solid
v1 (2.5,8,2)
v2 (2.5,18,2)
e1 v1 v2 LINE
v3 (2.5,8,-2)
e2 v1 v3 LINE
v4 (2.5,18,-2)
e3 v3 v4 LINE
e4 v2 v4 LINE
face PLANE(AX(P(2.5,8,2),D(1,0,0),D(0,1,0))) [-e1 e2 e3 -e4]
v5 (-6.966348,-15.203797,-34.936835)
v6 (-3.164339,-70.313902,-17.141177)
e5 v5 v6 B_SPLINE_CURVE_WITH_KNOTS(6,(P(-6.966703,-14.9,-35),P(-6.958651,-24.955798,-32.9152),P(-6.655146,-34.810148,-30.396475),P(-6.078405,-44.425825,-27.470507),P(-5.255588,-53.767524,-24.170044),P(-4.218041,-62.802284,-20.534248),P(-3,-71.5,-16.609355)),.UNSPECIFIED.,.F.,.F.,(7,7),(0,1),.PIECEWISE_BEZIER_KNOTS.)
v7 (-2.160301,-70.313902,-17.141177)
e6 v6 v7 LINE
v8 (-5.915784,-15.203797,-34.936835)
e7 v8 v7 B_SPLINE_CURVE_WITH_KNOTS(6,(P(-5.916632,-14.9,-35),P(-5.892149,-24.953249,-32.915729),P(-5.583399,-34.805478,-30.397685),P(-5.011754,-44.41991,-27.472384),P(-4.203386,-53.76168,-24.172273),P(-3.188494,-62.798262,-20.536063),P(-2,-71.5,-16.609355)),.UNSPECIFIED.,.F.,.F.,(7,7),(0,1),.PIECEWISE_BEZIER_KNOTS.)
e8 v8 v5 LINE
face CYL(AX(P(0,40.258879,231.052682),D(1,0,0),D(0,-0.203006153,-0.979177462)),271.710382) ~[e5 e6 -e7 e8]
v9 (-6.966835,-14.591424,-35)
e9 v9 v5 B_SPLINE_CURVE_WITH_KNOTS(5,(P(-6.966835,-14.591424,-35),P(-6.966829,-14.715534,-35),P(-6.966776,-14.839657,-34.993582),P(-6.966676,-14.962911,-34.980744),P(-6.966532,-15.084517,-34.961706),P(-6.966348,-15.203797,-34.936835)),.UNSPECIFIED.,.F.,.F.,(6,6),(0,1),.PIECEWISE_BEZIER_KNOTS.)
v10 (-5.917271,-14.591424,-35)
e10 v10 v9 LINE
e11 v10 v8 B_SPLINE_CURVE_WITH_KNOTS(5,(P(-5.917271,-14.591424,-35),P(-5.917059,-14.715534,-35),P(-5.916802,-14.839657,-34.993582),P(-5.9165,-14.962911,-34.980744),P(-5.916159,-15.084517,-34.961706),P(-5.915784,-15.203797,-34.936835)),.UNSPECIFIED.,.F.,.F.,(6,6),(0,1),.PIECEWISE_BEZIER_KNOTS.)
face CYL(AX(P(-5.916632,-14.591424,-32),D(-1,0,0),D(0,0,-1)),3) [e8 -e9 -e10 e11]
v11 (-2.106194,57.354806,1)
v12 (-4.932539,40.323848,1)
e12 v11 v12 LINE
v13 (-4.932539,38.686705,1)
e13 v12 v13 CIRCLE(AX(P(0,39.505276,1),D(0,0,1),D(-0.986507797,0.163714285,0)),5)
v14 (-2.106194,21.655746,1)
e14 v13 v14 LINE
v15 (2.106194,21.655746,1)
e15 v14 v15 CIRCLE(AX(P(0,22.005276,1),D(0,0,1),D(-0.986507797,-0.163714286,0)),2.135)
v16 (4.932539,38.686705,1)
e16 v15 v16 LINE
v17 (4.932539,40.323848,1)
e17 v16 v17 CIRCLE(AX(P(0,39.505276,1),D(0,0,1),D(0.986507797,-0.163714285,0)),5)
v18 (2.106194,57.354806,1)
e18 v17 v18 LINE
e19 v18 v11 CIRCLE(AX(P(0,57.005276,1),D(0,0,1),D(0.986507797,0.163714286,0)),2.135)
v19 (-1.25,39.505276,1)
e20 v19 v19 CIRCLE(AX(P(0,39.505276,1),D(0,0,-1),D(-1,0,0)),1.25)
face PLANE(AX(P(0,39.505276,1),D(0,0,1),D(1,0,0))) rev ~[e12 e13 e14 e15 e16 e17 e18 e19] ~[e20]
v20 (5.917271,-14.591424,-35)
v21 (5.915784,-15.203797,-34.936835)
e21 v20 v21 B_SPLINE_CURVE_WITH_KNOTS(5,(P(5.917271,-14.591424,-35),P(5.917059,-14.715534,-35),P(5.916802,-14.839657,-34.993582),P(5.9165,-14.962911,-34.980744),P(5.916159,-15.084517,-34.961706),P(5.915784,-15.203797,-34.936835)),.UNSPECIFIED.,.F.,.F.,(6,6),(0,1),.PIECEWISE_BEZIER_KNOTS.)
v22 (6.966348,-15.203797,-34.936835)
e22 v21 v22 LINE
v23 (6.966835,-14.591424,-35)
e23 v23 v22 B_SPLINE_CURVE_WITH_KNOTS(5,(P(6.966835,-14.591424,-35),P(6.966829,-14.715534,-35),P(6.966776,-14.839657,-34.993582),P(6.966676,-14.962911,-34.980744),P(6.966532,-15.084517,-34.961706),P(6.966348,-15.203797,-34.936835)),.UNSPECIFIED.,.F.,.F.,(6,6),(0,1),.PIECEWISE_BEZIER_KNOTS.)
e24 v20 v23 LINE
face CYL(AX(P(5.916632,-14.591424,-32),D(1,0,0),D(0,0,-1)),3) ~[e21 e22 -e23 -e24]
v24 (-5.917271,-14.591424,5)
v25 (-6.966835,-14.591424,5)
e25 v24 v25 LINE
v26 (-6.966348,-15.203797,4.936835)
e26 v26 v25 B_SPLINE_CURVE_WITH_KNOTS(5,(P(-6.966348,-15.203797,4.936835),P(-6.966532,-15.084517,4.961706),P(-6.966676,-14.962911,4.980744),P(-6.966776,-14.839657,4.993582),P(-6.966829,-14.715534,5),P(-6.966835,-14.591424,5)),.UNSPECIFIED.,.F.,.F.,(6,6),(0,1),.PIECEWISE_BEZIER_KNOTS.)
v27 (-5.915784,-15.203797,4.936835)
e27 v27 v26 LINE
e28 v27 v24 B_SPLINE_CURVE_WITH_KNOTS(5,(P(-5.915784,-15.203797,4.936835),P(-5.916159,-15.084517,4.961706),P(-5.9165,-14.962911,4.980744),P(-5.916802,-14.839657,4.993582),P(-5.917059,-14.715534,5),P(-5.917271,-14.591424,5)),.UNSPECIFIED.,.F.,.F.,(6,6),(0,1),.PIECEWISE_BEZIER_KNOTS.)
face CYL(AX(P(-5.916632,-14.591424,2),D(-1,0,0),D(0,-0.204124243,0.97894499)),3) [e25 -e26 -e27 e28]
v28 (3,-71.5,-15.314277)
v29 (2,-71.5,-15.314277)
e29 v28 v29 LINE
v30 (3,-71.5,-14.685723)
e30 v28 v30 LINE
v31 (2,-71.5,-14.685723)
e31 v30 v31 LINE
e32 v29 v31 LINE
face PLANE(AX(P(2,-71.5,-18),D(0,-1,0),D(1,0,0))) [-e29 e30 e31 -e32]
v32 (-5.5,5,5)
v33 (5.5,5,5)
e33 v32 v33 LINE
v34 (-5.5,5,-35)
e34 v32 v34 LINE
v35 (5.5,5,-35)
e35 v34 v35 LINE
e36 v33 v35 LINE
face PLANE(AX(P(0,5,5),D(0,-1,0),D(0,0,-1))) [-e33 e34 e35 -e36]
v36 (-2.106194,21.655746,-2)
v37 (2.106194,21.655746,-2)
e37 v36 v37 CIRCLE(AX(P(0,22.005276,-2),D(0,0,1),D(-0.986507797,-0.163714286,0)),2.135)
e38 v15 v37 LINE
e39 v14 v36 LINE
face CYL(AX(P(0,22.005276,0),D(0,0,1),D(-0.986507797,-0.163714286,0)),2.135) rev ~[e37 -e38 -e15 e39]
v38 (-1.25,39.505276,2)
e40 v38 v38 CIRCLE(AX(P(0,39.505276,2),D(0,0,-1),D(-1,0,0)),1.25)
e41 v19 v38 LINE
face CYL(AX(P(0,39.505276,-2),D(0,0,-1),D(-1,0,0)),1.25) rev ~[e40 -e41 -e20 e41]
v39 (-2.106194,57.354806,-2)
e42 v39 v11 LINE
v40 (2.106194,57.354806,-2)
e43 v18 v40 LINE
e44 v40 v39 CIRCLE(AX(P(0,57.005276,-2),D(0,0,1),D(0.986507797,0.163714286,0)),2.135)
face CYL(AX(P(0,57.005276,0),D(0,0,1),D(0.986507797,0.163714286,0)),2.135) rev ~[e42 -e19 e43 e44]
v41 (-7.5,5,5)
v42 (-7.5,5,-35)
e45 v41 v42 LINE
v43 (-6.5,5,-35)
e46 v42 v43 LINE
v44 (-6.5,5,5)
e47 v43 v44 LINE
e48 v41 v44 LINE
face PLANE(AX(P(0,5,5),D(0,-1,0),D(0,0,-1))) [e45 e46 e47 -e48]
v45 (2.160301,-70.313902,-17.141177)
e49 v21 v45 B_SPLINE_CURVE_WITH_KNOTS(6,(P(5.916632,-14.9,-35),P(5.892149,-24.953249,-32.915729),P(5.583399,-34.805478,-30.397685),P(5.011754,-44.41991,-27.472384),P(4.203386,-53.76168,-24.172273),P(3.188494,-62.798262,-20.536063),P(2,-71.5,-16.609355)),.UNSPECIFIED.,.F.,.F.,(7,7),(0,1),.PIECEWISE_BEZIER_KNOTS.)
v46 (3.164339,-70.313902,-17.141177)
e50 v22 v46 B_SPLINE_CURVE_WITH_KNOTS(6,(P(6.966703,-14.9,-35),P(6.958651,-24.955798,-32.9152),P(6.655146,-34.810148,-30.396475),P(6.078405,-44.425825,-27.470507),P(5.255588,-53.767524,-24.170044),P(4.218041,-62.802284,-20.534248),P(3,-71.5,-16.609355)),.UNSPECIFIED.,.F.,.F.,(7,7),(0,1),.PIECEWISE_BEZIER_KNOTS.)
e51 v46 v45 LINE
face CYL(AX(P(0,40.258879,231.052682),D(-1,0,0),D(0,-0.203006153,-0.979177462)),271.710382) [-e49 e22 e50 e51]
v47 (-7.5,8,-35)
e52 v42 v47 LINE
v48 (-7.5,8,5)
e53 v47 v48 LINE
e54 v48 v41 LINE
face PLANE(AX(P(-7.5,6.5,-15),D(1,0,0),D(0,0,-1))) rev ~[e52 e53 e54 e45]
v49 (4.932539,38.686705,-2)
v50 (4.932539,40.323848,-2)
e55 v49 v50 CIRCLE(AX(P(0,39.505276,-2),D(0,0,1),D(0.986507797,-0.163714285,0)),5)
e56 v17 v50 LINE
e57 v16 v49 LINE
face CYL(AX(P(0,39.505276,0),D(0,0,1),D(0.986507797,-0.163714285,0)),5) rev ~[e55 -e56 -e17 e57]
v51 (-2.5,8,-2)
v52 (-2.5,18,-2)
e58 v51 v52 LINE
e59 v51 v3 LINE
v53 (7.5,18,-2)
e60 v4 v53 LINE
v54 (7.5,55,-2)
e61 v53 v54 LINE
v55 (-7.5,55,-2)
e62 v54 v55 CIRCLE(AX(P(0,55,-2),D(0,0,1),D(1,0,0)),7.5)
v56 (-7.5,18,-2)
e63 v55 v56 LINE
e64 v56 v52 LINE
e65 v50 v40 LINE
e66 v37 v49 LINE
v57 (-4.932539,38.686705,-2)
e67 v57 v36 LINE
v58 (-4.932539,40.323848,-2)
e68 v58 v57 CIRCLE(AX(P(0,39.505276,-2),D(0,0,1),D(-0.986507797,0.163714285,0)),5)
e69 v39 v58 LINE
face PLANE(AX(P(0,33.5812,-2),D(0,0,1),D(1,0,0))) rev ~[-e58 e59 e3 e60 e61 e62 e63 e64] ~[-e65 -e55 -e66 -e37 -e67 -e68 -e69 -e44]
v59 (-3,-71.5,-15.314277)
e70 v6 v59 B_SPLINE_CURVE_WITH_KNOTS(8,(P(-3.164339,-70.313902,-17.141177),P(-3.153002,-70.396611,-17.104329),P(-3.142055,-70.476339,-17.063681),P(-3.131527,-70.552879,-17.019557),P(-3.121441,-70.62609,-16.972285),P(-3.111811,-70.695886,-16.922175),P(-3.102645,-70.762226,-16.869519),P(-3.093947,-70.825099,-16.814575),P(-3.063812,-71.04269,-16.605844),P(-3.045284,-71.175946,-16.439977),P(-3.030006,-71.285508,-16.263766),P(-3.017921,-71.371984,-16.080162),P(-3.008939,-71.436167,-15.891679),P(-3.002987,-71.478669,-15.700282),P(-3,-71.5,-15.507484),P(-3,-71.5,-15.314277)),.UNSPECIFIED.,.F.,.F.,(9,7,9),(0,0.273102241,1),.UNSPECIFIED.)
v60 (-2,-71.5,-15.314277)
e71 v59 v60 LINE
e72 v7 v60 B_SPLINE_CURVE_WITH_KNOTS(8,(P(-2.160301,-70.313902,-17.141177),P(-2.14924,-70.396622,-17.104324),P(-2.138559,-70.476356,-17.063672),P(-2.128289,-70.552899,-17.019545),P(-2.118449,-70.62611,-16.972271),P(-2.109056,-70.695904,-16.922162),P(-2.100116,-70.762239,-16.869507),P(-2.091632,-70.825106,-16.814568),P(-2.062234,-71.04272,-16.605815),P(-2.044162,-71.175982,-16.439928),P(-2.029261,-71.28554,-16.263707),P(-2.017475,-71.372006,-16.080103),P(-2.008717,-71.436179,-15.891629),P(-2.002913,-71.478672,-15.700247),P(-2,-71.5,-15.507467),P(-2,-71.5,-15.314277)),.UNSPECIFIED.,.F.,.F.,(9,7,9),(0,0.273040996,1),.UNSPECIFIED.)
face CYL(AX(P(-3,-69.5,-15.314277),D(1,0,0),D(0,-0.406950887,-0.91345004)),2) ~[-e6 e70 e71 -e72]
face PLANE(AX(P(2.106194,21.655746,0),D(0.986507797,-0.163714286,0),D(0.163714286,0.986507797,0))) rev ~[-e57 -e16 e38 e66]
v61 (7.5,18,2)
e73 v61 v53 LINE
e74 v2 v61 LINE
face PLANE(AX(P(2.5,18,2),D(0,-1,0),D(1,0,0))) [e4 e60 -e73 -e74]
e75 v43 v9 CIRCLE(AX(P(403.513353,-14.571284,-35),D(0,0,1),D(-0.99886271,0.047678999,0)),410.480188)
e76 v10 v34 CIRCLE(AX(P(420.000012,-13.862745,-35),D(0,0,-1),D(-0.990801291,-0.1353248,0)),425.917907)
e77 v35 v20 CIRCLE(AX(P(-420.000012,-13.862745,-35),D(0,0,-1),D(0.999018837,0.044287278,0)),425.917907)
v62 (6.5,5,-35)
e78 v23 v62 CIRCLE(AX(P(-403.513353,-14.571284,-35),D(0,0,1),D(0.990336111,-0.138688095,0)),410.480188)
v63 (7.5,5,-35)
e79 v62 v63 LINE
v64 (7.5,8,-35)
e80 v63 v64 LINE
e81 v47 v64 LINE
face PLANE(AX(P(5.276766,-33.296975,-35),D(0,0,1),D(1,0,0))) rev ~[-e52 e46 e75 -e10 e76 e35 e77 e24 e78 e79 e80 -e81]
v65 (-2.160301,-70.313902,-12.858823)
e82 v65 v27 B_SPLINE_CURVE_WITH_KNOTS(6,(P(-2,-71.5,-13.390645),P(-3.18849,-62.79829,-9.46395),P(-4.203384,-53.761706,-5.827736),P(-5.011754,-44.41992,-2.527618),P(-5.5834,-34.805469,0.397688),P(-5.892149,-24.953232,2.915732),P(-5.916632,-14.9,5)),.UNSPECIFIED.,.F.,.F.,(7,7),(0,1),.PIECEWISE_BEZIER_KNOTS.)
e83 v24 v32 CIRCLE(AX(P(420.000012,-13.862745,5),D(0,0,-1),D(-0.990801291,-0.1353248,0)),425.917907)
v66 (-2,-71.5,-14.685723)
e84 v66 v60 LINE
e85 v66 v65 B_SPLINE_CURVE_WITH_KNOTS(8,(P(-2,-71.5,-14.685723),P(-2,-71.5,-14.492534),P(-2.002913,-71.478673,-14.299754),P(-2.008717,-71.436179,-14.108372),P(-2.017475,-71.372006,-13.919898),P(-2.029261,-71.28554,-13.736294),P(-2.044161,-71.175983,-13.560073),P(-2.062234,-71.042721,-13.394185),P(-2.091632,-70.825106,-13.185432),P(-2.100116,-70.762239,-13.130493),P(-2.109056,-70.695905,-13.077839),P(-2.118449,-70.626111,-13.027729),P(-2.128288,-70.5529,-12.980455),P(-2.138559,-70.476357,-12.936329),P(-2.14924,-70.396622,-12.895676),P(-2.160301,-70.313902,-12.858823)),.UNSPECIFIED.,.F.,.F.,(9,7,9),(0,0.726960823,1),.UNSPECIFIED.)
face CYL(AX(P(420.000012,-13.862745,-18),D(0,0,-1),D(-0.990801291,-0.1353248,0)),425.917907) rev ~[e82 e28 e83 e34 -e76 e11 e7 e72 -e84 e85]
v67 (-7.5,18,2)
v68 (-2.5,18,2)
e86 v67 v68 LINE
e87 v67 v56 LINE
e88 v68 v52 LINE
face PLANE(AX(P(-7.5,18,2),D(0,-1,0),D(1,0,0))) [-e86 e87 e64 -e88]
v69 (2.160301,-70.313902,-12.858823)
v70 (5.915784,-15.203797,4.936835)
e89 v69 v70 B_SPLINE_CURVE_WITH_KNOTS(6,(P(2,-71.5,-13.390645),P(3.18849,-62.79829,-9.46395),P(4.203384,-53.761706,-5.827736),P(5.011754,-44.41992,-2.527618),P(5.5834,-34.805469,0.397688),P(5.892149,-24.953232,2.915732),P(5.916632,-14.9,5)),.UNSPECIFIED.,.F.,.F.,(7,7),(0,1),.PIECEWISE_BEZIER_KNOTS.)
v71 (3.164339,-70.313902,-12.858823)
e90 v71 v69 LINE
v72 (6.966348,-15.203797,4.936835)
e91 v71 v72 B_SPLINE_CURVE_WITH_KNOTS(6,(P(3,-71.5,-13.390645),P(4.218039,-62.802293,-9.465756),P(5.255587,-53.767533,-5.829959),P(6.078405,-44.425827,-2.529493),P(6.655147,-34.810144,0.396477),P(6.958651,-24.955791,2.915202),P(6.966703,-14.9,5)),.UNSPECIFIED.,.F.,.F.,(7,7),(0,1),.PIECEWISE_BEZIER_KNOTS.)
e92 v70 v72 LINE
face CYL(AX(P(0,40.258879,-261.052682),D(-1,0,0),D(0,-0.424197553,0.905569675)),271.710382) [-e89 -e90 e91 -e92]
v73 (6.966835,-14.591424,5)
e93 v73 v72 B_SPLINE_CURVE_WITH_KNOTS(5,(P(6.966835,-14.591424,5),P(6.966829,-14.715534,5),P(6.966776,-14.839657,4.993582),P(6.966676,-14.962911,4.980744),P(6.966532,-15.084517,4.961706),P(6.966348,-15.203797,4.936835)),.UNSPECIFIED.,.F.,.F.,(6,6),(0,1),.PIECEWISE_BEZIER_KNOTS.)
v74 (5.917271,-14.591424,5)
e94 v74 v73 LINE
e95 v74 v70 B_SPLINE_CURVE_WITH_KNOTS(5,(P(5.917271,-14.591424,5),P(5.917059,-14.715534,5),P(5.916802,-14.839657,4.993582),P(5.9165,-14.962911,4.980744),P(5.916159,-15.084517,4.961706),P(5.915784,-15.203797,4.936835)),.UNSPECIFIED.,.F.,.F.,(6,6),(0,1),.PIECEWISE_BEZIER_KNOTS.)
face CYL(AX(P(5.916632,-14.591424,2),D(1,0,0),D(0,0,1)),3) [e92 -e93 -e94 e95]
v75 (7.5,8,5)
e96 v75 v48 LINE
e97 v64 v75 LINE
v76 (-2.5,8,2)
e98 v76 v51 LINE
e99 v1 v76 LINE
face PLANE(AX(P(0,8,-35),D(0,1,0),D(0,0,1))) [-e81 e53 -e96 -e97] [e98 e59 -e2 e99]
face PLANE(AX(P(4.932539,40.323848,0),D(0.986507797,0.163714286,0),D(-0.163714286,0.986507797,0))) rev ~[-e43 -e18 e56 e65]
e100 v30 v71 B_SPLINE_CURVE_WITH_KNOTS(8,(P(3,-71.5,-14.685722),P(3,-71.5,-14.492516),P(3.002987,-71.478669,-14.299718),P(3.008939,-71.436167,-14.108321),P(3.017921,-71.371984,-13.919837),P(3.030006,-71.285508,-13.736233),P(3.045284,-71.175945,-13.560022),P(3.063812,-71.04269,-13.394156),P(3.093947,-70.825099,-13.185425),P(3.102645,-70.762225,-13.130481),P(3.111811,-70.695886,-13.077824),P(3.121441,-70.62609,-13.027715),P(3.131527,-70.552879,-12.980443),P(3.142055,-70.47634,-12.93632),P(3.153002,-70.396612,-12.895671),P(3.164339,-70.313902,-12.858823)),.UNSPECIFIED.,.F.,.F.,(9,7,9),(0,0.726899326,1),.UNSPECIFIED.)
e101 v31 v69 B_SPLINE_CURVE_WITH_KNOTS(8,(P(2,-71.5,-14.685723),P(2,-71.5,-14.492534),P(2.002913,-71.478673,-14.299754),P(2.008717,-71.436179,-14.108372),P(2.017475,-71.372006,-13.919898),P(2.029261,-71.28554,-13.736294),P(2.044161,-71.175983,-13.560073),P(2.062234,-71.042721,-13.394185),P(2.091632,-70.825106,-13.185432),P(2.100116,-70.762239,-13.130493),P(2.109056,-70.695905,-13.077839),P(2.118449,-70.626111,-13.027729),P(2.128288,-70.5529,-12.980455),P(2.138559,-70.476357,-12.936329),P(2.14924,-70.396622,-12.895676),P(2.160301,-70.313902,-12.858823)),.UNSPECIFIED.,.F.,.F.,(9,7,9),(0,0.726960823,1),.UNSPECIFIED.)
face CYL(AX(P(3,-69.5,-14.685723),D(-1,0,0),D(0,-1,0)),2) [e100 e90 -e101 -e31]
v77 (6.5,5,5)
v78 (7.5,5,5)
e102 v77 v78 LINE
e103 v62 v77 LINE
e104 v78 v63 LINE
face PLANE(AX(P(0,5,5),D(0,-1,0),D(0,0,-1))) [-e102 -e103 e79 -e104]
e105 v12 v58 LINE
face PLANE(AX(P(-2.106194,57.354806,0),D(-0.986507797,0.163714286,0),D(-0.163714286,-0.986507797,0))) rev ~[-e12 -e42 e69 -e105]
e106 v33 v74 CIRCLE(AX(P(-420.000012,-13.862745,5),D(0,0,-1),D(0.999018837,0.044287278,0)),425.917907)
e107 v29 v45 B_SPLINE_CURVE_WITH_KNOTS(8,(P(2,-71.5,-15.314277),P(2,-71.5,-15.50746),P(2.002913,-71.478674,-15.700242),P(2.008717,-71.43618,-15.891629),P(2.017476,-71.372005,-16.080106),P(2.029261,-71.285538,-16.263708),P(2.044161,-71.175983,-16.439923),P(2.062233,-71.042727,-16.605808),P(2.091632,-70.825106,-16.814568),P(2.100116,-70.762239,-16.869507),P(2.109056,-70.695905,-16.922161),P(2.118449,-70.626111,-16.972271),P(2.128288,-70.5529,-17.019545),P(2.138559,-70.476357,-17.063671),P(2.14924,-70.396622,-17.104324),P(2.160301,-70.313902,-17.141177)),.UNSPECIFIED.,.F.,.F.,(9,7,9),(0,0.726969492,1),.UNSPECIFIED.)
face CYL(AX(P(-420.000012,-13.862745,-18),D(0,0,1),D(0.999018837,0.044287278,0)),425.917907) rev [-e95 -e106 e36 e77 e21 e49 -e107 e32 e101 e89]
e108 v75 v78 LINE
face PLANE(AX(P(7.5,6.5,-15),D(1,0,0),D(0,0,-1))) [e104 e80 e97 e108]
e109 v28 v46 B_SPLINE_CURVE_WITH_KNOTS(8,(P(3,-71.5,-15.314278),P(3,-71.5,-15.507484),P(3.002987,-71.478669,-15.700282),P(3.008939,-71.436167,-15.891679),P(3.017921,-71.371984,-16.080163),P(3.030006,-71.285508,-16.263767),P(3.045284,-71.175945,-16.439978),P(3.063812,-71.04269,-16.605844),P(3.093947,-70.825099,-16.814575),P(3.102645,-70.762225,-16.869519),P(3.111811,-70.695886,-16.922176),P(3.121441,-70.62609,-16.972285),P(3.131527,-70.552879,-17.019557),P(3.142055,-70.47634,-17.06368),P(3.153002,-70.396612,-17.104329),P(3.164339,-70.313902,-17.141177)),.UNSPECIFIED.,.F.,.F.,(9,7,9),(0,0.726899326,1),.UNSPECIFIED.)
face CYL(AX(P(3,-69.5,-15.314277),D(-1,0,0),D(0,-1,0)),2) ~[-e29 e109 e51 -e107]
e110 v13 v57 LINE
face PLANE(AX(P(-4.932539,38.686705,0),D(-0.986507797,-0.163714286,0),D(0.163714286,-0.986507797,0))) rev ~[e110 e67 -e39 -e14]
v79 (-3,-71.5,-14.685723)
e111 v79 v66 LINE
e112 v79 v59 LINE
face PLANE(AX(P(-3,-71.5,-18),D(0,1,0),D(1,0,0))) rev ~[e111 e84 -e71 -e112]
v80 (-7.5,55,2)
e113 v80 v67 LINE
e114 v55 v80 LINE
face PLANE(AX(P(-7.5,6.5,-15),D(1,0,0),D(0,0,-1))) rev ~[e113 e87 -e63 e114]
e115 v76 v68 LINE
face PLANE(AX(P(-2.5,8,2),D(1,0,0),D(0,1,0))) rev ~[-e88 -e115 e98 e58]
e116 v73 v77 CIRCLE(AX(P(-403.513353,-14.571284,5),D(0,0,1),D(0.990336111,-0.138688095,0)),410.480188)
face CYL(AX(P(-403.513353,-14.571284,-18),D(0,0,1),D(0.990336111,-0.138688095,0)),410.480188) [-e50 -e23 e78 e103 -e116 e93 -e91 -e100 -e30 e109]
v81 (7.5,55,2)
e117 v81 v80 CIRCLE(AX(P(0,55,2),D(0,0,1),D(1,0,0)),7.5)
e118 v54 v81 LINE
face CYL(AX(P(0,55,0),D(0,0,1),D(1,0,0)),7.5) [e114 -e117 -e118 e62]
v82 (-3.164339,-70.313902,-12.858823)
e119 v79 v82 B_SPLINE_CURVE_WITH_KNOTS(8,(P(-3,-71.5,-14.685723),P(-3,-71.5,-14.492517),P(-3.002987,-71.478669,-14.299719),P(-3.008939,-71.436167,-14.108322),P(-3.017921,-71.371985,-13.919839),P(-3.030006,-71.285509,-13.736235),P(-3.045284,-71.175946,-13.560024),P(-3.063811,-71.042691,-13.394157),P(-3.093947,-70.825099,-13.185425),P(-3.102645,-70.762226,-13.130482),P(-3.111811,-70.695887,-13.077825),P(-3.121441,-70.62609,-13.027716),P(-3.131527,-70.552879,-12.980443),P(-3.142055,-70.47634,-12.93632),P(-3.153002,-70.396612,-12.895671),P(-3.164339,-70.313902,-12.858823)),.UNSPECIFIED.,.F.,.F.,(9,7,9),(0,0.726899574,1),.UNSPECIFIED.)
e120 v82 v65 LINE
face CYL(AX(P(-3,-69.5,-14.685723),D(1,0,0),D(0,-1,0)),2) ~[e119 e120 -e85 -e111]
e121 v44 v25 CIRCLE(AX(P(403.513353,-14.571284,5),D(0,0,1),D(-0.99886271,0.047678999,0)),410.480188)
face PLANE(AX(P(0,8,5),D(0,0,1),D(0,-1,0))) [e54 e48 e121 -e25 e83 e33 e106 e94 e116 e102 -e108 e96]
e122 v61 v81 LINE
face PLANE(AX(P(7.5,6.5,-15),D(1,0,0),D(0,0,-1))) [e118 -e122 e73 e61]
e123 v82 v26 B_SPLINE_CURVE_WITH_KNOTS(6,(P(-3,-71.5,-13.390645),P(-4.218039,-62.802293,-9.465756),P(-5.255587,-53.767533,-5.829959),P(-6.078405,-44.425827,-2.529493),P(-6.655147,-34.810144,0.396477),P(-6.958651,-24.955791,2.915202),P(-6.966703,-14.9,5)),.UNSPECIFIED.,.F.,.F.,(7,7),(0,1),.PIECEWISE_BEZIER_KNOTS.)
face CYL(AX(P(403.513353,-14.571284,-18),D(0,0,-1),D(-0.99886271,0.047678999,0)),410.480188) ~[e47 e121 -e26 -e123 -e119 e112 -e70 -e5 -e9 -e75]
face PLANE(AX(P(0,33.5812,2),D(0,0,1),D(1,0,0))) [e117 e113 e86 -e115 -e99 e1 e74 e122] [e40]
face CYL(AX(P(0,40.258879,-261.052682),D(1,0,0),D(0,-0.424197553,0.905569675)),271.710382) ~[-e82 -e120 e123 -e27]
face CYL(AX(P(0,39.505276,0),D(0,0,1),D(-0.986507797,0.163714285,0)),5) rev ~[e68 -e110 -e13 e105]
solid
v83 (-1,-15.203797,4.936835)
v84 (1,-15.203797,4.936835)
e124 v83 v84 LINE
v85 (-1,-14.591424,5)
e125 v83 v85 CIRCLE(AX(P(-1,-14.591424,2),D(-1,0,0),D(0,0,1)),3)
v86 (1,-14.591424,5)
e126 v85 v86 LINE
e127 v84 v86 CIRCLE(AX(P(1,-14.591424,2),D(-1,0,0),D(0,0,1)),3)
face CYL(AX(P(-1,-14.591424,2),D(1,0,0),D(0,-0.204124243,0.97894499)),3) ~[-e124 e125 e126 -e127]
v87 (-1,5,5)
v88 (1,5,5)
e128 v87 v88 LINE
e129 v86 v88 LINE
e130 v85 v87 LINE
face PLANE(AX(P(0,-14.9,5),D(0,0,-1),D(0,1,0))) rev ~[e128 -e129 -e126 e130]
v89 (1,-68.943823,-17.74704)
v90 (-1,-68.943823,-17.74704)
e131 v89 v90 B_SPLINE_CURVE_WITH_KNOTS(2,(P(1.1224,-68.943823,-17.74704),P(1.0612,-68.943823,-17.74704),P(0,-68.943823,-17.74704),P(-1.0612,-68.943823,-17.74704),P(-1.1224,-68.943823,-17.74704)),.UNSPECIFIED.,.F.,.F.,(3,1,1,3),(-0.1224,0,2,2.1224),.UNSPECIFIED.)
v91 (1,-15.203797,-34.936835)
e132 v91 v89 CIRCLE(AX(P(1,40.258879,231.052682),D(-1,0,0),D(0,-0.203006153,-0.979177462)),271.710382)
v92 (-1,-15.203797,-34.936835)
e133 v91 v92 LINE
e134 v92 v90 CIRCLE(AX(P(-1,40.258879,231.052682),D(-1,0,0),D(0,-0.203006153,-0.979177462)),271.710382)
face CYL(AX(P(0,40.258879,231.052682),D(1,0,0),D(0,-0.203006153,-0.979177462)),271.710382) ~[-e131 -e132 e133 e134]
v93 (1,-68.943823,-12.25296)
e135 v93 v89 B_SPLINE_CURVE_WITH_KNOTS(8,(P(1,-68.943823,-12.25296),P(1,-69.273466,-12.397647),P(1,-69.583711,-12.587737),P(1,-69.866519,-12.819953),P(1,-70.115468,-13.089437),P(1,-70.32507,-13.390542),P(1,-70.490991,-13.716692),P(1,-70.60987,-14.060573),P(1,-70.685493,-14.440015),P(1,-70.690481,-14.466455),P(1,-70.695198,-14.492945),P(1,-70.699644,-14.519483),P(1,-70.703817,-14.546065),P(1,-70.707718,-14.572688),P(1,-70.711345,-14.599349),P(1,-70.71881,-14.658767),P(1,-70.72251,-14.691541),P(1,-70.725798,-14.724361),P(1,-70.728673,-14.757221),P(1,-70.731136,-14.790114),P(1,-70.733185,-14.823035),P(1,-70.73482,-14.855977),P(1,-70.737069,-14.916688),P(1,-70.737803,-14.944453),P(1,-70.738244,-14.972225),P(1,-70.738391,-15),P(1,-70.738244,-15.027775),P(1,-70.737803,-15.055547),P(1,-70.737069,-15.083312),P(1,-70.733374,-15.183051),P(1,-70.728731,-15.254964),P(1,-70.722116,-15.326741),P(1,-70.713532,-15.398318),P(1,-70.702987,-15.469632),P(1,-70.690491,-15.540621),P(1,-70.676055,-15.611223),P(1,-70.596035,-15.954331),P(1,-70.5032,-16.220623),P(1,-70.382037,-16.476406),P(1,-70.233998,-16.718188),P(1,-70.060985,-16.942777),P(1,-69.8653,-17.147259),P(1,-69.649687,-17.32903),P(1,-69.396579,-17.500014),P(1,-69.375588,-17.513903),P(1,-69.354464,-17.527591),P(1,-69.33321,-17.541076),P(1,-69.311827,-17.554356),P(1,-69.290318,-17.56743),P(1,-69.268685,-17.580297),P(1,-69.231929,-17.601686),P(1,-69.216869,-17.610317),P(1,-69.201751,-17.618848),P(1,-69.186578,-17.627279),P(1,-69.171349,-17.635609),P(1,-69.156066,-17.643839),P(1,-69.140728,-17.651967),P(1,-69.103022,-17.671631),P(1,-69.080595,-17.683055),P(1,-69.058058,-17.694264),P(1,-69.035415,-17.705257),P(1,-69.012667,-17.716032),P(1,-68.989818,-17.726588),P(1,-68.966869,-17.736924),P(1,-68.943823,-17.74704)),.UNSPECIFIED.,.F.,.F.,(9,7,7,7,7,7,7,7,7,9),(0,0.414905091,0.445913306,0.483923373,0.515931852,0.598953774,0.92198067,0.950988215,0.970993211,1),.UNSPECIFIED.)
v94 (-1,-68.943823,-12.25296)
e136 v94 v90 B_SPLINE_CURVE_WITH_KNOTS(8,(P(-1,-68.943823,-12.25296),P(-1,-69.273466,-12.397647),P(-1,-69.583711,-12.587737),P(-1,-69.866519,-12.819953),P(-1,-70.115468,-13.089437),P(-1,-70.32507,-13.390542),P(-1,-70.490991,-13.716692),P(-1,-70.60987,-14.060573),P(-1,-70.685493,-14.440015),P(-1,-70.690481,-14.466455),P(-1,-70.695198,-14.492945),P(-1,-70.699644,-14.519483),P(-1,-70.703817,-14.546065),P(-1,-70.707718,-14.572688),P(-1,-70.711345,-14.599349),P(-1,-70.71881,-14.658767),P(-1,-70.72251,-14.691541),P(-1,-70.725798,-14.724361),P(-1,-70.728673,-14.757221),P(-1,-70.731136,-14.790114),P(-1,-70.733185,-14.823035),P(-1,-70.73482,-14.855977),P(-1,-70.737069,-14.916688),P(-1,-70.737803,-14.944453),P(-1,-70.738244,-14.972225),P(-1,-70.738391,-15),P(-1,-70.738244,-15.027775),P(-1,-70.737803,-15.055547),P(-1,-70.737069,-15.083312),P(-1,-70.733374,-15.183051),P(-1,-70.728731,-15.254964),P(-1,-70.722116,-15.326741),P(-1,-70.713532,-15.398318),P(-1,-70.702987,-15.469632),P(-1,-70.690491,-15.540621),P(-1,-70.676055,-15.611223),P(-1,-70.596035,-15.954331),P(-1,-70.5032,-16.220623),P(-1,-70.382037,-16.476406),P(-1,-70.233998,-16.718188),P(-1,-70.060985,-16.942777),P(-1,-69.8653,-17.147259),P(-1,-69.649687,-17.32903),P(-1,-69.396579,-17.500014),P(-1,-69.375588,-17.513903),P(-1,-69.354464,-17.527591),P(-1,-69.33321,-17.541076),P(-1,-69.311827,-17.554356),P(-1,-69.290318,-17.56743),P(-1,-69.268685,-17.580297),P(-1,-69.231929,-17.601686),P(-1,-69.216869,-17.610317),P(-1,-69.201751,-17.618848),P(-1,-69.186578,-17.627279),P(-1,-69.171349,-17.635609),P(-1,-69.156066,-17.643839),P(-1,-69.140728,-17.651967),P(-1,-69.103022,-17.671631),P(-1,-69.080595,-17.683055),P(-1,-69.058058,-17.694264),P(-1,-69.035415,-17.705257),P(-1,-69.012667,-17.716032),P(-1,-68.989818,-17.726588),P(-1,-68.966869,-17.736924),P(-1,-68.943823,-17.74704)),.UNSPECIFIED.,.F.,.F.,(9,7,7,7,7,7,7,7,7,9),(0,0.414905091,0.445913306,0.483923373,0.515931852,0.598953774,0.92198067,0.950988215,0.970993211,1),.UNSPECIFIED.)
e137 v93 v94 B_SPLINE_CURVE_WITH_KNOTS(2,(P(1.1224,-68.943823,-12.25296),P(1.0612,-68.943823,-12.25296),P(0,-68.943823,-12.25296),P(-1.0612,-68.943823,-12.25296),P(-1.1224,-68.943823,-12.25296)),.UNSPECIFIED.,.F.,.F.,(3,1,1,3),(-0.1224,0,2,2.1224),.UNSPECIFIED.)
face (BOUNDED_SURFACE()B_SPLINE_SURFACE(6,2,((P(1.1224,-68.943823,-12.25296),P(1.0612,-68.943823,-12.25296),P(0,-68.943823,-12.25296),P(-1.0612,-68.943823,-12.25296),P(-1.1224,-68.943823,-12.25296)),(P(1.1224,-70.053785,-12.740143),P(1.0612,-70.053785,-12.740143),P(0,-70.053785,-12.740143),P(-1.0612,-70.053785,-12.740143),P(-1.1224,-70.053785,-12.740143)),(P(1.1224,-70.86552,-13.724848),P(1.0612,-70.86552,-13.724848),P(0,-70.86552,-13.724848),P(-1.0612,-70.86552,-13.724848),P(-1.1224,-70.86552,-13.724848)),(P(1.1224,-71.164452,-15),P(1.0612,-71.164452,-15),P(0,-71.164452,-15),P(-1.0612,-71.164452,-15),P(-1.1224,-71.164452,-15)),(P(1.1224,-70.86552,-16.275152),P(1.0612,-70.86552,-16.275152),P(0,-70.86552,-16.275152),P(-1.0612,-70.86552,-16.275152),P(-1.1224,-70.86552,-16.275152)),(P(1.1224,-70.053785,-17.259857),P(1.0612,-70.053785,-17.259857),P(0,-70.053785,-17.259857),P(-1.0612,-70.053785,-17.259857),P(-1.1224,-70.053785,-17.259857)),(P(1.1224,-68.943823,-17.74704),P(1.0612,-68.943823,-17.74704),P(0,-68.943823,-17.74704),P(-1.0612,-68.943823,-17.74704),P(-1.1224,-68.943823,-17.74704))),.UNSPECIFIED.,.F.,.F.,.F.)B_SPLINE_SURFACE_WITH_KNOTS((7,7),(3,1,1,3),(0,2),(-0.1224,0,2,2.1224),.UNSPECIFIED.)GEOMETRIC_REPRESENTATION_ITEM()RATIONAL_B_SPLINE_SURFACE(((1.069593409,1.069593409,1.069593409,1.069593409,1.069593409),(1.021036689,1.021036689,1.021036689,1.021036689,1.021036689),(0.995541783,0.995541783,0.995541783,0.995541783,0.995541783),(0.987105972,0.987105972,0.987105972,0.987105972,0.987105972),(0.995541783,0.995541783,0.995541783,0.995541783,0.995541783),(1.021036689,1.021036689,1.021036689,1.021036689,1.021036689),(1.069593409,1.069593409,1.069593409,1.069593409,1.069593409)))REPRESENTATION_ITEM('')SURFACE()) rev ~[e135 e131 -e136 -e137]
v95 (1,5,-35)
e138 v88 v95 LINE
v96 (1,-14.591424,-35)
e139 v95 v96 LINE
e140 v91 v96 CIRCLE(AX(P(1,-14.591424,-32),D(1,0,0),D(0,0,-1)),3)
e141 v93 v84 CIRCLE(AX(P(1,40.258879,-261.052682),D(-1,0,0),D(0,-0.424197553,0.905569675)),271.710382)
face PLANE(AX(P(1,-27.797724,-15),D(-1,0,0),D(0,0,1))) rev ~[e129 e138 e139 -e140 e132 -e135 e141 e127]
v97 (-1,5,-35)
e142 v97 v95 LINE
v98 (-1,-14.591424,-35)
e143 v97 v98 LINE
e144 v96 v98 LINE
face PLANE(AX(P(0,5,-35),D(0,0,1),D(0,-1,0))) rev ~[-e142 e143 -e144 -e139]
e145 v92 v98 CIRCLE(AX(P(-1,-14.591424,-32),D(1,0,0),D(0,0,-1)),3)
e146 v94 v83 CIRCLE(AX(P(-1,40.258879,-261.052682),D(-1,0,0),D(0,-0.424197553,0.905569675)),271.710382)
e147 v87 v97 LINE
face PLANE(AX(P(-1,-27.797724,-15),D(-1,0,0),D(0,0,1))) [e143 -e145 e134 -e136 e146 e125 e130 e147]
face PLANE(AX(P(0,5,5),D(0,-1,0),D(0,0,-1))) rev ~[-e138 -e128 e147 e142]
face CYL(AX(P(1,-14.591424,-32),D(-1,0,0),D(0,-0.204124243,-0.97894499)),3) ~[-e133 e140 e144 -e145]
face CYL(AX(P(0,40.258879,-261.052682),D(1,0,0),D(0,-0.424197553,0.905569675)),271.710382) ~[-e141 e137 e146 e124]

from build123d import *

# Parameters (mm, degrees)
EXTRUDE_1_DEPTH          = 2
EXTRUDE_1_DEPTH_BACK     = 2
EXTRUDE_2_DEPTH          = 7.5
EXTRUDE_2_DEPTH_BACK     = 7.5
EXTRUDE_4_DEPTH          = 1
EXTRUDE_4_DEPTH_BACK     = 1
EXTRUDE_8_DEPTH          = 23
EXTRUDE_8_DEPTH_BACK     = 17
SKETCH_21_W              = 5
SKETCH_21_H              = 10
CUT_EXTRUDE_4_DEPTH      = 4
CUT_EXTRUDE_5_DEPTH      = 1
CUT_EXTRUDE_5_DEPTH_BACK = 2
SKETCH_23_R              = 1.25
CUT_EXTRUDE_6_DEPTH      = 13
FILLET_11_R              = 3
FILLET_12_R              = 3
FILLET_13_R              = 3
CUT_EXTRUDE_7_DEPTH      = 10
CUT_EXTRUDE_7_DEPTH_BACK = 10
FILLET_17_R              = 2
FILLET_18_R              = 2
FILLET_19_R              = 2
FILLET_20_R              = 2
FILLET_21_R              = 3
FILLET_22_R              = 3
FILLET_23_R              = 3
FILLET_24_R              = 3


with BuildPart() as part:
    # 草圖1 → 填料-伸長1 (new, two sides: drawn at the far end of the back side and taken through both)
    with BuildSketch(Plane.XY.offset(-EXTRUDE_1_DEPTH_BACK)):
        with BuildLine():
            Line((7.5, 8), (7.5, 55))
            ThreePointArc((7.5, 55), (0, 62.5), (-7.5, 55))
            Line((-7.5, 55), (-7.5, 8))
            Line((-7.5, 8), (7.5, 8))
        make_face()
    extrude(amount=EXTRUDE_1_DEPTH + EXTRUDE_1_DEPTH_BACK)

    # 草圖6 → 填料-伸長2 (add, two sides: drawn at the far end of the back side and taken through both)
    with BuildSketch(Plane(origin=(0, 0, 0), x_dir=(0, 0, -1), z_dir=(1, 0, 0)).offset(-EXTRUDE_2_DEPTH_BACK)):
        Polygon((-2, 8), (-5, 8), (-5, 5), (-2, 5), (35, 5), (35, 8), align=None)
    extrude(amount=EXTRUDE_2_DEPTH + EXTRUDE_2_DEPTH_BACK)

    # 草圖19 → 填料-伸長8 (add, two sides: drawn at the far end of the back side and taken through both)
    with BuildSketch(Plane.XY.offset(-18).offset(-EXTRUDE_8_DEPTH_BACK)):
        with BuildLine():
            Line((6.5, 5), (5.5, 5))
            ThreePointArc((5.5, 5), (5.47282517, -33.328822067), (2, -71.5))
            Line((2, -71.5), (3, -71.5))
            ThreePointArc((3, -71.5), (6.537897336, -33.331799225), (6.5, 5))
        make_face()
        with BuildLine():
            Line((-3, -71.5), (-2, -71.5))
            ThreePointArc((-2, -71.5), (-5.47282517, -33.328822067), (-5.5, 5))
            Line((-5.5, 5), (-6.5, 5))
            ThreePointArc((-6.5, 5), (-6.537897336, -33.331799225), (-3, -71.5))
        make_face()
    extrude(amount=EXTRUDE_8_DEPTH + EXTRUDE_8_DEPTH_BACK)

    # 草圖21 → 除料-伸長4 (cut)
    with BuildSketch(Plane.XY.offset(2)):
        with Locations((-5, 13)):
            Rectangle(SKETCH_21_W, SKETCH_21_H)
        with Locations((5, 13)):
            Rectangle(SKETCH_21_W, SKETCH_21_H)
    extrude(amount=-CUT_EXTRUDE_4_DEPTH, mode=Mode.SUBTRACT)

    # 草圖3 → 除料-伸長5 (cut, two sides: drawn at the far end of the back side and taken through both)
    with BuildSketch(Plane.XY.offset(-CUT_EXTRUDE_5_DEPTH_BACK)):
        with BuildLine():
            Line((-2.106194146, 57.35480611), (-4.932538983, 40.323847539))
            ThreePointArc((-4.932538983, 40.323847539), (-5, 39.50527611), (-4.932538983, 38.686704682))
            Line((-4.932538983, 38.686704682), (-2.106194146, 21.65574611))
            ThreePointArc((-2.106194146, 21.65574611), (0, 19.87027611), (2.106194146, 21.65574611))
            Line((2.106194146, 21.65574611), (4.932538983, 38.686704682))
            ThreePointArc((4.932538983, 38.686704682), (5, 39.50527611), (4.932538983, 40.323847539))
            Line((4.932538983, 40.323847539), (2.106194146, 57.35480611))
            ThreePointArc((2.106194146, 57.35480611), (0, 59.14027611), (-2.106194146, 57.35480611))
        make_face()
    extrude(amount=CUT_EXTRUDE_5_DEPTH + CUT_EXTRUDE_5_DEPTH_BACK, mode=Mode.SUBTRACT)

    # 草圖23 → 除料-伸長6 (cut)
    with BuildSketch(Plane(origin=(0, 0, -2), x_dir=(-1, 0, 0), z_dir=(0, 0, -1))):
        with Locations((0, 39.50527611)):
            Circle(SKETCH_23_R)
    extrude(amount=-CUT_EXTRUDE_6_DEPTH, mode=Mode.SUBTRACT)

    # 草圖20 → 除料-伸長7 (cut, two sides: drawn at the far end of the back side and taken through both)
    with BuildSketch(Plane(origin=(0, 0, 0), x_dir=(0, 0, -1), z_dir=(1, 0, 0)).offset(-CUT_EXTRUDE_7_DEPTH_BACK)):
        with BuildLine():
            ThreePointArc((15, -75), (3.242716215, -45.534786617), (-5, -14.9))
            Line((-5, -14.9), (-5, -75))
            Line((-5, -75), (15, -75))
        make_face()
        with BuildLine():
            ThreePointArc((35, -14.9), (26.757283785, -45.534786617), (15, -75))
            Line((15, -75), (35, -75))
            Line((35, -75), (35, -14.9))
        make_face()
    extrude(amount=CUT_EXTRUDE_7_DEPTH + CUT_EXTRUDE_7_DEPTH_BACK, mode=Mode.SUBTRACT)

    # 圓角17
    fillet_17_edges = [part.edges().sort_by_distance(p)[0] for p in [
        (2.5, -71.5, -16.609354803),
    ]]
    fillet(fillet_17_edges, radius=FILLET_17_R)

    # 圓角18
    fillet_18_edges = [part.edges().sort_by_distance(p)[0] for p in [
        (2.5, -71.5, -13.390645197),
    ]]
    fillet(fillet_18_edges, radius=FILLET_18_R)

    # 圓角19
    fillet_19_edges = [part.edges().sort_by_distance(p)[0] for p in [
        (-2.5, -71.5, -16.609354803),
    ]]
    fillet(fillet_19_edges, radius=FILLET_19_R)

    # 圓角20
    fillet_20_edges = [part.edges().sort_by_distance(p)[0] for p in [
        (-2.5, -71.5, -13.390645197),
    ]]
    fillet(fillet_20_edges, radius=FILLET_20_R)

    # 圓角21
    fillet_21_edges = [part.edges().sort_by_distance(p)[0] for p in [
        (-6.441667624, -14.9, 5),
    ]]
    fillet(fillet_21_edges, radius=FILLET_21_R)

    # 圓角22
    fillet_22_edges = [part.edges().sort_by_distance(p)[0] for p in [
        (6.441667624, -14.9, 5),
    ]]
    fillet(fillet_22_edges, radius=FILLET_22_R)

    # 圓角23
    fillet_23_edges = [part.edges().sort_by_distance(p)[0] for p in [
        (-6.441667624, -14.9, -35),
    ]]
    fillet(fillet_23_edges, radius=FILLET_23_R)

    # 圓角24
    fillet_24_edges = [part.edges().sort_by_distance(p)[0] for p in [
        (6.441667624, -14.9, -35),
    ]]
    fillet(fillet_24_edges, radius=FILLET_24_R)


with BuildPart() as body_2:
    # 草圖8 → 填料-伸長4 (new, two sides: drawn at the far end of the back side and taken through both)
    with BuildSketch(Plane(origin=(0, 0, 0), x_dir=(0, 0, -1), z_dir=(1, 0, 0)).offset(-EXTRUDE_4_DEPTH_BACK)):
        with BuildLine():
            Line((35, 5), (35, -14.9))
            ThreePointArc((35, -14.9), (26.757283785, -45.534786617), (15, -75))
            ThreePointArc((15, -75), (3.242716215, -45.534786617), (-5, -14.9))
            Line((-5, -14.9), (-5, 5))
            Line((-5, 5), (35, 5))
        make_face()
    extrude(amount=EXTRUDE_4_DEPTH + EXTRUDE_4_DEPTH_BACK)

    # 圓角11
    fillet_11_edges = [body_2.edges().sort_by_distance(p)[0] for p in [
        (0, -75, -15),
    ]]
    fillet(fillet_11_edges, radius=FILLET_11_R)

    # 圓角12
    fillet_12_edges = [body_2.edges().sort_by_distance(p)[0] for p in [
        (0, -14.9, 5),
    ]]
    fillet(fillet_12_edges, radius=FILLET_12_R)

    # 圓角13
    fillet_13_edges = [body_2.edges().sort_by_distance(p)[0] for p in [
        (0, -14.9, -35),
    ]]
    fillet(fillet_13_edges, radius=FILLET_13_R)


solid = Compound([part.part, body_2.part])
